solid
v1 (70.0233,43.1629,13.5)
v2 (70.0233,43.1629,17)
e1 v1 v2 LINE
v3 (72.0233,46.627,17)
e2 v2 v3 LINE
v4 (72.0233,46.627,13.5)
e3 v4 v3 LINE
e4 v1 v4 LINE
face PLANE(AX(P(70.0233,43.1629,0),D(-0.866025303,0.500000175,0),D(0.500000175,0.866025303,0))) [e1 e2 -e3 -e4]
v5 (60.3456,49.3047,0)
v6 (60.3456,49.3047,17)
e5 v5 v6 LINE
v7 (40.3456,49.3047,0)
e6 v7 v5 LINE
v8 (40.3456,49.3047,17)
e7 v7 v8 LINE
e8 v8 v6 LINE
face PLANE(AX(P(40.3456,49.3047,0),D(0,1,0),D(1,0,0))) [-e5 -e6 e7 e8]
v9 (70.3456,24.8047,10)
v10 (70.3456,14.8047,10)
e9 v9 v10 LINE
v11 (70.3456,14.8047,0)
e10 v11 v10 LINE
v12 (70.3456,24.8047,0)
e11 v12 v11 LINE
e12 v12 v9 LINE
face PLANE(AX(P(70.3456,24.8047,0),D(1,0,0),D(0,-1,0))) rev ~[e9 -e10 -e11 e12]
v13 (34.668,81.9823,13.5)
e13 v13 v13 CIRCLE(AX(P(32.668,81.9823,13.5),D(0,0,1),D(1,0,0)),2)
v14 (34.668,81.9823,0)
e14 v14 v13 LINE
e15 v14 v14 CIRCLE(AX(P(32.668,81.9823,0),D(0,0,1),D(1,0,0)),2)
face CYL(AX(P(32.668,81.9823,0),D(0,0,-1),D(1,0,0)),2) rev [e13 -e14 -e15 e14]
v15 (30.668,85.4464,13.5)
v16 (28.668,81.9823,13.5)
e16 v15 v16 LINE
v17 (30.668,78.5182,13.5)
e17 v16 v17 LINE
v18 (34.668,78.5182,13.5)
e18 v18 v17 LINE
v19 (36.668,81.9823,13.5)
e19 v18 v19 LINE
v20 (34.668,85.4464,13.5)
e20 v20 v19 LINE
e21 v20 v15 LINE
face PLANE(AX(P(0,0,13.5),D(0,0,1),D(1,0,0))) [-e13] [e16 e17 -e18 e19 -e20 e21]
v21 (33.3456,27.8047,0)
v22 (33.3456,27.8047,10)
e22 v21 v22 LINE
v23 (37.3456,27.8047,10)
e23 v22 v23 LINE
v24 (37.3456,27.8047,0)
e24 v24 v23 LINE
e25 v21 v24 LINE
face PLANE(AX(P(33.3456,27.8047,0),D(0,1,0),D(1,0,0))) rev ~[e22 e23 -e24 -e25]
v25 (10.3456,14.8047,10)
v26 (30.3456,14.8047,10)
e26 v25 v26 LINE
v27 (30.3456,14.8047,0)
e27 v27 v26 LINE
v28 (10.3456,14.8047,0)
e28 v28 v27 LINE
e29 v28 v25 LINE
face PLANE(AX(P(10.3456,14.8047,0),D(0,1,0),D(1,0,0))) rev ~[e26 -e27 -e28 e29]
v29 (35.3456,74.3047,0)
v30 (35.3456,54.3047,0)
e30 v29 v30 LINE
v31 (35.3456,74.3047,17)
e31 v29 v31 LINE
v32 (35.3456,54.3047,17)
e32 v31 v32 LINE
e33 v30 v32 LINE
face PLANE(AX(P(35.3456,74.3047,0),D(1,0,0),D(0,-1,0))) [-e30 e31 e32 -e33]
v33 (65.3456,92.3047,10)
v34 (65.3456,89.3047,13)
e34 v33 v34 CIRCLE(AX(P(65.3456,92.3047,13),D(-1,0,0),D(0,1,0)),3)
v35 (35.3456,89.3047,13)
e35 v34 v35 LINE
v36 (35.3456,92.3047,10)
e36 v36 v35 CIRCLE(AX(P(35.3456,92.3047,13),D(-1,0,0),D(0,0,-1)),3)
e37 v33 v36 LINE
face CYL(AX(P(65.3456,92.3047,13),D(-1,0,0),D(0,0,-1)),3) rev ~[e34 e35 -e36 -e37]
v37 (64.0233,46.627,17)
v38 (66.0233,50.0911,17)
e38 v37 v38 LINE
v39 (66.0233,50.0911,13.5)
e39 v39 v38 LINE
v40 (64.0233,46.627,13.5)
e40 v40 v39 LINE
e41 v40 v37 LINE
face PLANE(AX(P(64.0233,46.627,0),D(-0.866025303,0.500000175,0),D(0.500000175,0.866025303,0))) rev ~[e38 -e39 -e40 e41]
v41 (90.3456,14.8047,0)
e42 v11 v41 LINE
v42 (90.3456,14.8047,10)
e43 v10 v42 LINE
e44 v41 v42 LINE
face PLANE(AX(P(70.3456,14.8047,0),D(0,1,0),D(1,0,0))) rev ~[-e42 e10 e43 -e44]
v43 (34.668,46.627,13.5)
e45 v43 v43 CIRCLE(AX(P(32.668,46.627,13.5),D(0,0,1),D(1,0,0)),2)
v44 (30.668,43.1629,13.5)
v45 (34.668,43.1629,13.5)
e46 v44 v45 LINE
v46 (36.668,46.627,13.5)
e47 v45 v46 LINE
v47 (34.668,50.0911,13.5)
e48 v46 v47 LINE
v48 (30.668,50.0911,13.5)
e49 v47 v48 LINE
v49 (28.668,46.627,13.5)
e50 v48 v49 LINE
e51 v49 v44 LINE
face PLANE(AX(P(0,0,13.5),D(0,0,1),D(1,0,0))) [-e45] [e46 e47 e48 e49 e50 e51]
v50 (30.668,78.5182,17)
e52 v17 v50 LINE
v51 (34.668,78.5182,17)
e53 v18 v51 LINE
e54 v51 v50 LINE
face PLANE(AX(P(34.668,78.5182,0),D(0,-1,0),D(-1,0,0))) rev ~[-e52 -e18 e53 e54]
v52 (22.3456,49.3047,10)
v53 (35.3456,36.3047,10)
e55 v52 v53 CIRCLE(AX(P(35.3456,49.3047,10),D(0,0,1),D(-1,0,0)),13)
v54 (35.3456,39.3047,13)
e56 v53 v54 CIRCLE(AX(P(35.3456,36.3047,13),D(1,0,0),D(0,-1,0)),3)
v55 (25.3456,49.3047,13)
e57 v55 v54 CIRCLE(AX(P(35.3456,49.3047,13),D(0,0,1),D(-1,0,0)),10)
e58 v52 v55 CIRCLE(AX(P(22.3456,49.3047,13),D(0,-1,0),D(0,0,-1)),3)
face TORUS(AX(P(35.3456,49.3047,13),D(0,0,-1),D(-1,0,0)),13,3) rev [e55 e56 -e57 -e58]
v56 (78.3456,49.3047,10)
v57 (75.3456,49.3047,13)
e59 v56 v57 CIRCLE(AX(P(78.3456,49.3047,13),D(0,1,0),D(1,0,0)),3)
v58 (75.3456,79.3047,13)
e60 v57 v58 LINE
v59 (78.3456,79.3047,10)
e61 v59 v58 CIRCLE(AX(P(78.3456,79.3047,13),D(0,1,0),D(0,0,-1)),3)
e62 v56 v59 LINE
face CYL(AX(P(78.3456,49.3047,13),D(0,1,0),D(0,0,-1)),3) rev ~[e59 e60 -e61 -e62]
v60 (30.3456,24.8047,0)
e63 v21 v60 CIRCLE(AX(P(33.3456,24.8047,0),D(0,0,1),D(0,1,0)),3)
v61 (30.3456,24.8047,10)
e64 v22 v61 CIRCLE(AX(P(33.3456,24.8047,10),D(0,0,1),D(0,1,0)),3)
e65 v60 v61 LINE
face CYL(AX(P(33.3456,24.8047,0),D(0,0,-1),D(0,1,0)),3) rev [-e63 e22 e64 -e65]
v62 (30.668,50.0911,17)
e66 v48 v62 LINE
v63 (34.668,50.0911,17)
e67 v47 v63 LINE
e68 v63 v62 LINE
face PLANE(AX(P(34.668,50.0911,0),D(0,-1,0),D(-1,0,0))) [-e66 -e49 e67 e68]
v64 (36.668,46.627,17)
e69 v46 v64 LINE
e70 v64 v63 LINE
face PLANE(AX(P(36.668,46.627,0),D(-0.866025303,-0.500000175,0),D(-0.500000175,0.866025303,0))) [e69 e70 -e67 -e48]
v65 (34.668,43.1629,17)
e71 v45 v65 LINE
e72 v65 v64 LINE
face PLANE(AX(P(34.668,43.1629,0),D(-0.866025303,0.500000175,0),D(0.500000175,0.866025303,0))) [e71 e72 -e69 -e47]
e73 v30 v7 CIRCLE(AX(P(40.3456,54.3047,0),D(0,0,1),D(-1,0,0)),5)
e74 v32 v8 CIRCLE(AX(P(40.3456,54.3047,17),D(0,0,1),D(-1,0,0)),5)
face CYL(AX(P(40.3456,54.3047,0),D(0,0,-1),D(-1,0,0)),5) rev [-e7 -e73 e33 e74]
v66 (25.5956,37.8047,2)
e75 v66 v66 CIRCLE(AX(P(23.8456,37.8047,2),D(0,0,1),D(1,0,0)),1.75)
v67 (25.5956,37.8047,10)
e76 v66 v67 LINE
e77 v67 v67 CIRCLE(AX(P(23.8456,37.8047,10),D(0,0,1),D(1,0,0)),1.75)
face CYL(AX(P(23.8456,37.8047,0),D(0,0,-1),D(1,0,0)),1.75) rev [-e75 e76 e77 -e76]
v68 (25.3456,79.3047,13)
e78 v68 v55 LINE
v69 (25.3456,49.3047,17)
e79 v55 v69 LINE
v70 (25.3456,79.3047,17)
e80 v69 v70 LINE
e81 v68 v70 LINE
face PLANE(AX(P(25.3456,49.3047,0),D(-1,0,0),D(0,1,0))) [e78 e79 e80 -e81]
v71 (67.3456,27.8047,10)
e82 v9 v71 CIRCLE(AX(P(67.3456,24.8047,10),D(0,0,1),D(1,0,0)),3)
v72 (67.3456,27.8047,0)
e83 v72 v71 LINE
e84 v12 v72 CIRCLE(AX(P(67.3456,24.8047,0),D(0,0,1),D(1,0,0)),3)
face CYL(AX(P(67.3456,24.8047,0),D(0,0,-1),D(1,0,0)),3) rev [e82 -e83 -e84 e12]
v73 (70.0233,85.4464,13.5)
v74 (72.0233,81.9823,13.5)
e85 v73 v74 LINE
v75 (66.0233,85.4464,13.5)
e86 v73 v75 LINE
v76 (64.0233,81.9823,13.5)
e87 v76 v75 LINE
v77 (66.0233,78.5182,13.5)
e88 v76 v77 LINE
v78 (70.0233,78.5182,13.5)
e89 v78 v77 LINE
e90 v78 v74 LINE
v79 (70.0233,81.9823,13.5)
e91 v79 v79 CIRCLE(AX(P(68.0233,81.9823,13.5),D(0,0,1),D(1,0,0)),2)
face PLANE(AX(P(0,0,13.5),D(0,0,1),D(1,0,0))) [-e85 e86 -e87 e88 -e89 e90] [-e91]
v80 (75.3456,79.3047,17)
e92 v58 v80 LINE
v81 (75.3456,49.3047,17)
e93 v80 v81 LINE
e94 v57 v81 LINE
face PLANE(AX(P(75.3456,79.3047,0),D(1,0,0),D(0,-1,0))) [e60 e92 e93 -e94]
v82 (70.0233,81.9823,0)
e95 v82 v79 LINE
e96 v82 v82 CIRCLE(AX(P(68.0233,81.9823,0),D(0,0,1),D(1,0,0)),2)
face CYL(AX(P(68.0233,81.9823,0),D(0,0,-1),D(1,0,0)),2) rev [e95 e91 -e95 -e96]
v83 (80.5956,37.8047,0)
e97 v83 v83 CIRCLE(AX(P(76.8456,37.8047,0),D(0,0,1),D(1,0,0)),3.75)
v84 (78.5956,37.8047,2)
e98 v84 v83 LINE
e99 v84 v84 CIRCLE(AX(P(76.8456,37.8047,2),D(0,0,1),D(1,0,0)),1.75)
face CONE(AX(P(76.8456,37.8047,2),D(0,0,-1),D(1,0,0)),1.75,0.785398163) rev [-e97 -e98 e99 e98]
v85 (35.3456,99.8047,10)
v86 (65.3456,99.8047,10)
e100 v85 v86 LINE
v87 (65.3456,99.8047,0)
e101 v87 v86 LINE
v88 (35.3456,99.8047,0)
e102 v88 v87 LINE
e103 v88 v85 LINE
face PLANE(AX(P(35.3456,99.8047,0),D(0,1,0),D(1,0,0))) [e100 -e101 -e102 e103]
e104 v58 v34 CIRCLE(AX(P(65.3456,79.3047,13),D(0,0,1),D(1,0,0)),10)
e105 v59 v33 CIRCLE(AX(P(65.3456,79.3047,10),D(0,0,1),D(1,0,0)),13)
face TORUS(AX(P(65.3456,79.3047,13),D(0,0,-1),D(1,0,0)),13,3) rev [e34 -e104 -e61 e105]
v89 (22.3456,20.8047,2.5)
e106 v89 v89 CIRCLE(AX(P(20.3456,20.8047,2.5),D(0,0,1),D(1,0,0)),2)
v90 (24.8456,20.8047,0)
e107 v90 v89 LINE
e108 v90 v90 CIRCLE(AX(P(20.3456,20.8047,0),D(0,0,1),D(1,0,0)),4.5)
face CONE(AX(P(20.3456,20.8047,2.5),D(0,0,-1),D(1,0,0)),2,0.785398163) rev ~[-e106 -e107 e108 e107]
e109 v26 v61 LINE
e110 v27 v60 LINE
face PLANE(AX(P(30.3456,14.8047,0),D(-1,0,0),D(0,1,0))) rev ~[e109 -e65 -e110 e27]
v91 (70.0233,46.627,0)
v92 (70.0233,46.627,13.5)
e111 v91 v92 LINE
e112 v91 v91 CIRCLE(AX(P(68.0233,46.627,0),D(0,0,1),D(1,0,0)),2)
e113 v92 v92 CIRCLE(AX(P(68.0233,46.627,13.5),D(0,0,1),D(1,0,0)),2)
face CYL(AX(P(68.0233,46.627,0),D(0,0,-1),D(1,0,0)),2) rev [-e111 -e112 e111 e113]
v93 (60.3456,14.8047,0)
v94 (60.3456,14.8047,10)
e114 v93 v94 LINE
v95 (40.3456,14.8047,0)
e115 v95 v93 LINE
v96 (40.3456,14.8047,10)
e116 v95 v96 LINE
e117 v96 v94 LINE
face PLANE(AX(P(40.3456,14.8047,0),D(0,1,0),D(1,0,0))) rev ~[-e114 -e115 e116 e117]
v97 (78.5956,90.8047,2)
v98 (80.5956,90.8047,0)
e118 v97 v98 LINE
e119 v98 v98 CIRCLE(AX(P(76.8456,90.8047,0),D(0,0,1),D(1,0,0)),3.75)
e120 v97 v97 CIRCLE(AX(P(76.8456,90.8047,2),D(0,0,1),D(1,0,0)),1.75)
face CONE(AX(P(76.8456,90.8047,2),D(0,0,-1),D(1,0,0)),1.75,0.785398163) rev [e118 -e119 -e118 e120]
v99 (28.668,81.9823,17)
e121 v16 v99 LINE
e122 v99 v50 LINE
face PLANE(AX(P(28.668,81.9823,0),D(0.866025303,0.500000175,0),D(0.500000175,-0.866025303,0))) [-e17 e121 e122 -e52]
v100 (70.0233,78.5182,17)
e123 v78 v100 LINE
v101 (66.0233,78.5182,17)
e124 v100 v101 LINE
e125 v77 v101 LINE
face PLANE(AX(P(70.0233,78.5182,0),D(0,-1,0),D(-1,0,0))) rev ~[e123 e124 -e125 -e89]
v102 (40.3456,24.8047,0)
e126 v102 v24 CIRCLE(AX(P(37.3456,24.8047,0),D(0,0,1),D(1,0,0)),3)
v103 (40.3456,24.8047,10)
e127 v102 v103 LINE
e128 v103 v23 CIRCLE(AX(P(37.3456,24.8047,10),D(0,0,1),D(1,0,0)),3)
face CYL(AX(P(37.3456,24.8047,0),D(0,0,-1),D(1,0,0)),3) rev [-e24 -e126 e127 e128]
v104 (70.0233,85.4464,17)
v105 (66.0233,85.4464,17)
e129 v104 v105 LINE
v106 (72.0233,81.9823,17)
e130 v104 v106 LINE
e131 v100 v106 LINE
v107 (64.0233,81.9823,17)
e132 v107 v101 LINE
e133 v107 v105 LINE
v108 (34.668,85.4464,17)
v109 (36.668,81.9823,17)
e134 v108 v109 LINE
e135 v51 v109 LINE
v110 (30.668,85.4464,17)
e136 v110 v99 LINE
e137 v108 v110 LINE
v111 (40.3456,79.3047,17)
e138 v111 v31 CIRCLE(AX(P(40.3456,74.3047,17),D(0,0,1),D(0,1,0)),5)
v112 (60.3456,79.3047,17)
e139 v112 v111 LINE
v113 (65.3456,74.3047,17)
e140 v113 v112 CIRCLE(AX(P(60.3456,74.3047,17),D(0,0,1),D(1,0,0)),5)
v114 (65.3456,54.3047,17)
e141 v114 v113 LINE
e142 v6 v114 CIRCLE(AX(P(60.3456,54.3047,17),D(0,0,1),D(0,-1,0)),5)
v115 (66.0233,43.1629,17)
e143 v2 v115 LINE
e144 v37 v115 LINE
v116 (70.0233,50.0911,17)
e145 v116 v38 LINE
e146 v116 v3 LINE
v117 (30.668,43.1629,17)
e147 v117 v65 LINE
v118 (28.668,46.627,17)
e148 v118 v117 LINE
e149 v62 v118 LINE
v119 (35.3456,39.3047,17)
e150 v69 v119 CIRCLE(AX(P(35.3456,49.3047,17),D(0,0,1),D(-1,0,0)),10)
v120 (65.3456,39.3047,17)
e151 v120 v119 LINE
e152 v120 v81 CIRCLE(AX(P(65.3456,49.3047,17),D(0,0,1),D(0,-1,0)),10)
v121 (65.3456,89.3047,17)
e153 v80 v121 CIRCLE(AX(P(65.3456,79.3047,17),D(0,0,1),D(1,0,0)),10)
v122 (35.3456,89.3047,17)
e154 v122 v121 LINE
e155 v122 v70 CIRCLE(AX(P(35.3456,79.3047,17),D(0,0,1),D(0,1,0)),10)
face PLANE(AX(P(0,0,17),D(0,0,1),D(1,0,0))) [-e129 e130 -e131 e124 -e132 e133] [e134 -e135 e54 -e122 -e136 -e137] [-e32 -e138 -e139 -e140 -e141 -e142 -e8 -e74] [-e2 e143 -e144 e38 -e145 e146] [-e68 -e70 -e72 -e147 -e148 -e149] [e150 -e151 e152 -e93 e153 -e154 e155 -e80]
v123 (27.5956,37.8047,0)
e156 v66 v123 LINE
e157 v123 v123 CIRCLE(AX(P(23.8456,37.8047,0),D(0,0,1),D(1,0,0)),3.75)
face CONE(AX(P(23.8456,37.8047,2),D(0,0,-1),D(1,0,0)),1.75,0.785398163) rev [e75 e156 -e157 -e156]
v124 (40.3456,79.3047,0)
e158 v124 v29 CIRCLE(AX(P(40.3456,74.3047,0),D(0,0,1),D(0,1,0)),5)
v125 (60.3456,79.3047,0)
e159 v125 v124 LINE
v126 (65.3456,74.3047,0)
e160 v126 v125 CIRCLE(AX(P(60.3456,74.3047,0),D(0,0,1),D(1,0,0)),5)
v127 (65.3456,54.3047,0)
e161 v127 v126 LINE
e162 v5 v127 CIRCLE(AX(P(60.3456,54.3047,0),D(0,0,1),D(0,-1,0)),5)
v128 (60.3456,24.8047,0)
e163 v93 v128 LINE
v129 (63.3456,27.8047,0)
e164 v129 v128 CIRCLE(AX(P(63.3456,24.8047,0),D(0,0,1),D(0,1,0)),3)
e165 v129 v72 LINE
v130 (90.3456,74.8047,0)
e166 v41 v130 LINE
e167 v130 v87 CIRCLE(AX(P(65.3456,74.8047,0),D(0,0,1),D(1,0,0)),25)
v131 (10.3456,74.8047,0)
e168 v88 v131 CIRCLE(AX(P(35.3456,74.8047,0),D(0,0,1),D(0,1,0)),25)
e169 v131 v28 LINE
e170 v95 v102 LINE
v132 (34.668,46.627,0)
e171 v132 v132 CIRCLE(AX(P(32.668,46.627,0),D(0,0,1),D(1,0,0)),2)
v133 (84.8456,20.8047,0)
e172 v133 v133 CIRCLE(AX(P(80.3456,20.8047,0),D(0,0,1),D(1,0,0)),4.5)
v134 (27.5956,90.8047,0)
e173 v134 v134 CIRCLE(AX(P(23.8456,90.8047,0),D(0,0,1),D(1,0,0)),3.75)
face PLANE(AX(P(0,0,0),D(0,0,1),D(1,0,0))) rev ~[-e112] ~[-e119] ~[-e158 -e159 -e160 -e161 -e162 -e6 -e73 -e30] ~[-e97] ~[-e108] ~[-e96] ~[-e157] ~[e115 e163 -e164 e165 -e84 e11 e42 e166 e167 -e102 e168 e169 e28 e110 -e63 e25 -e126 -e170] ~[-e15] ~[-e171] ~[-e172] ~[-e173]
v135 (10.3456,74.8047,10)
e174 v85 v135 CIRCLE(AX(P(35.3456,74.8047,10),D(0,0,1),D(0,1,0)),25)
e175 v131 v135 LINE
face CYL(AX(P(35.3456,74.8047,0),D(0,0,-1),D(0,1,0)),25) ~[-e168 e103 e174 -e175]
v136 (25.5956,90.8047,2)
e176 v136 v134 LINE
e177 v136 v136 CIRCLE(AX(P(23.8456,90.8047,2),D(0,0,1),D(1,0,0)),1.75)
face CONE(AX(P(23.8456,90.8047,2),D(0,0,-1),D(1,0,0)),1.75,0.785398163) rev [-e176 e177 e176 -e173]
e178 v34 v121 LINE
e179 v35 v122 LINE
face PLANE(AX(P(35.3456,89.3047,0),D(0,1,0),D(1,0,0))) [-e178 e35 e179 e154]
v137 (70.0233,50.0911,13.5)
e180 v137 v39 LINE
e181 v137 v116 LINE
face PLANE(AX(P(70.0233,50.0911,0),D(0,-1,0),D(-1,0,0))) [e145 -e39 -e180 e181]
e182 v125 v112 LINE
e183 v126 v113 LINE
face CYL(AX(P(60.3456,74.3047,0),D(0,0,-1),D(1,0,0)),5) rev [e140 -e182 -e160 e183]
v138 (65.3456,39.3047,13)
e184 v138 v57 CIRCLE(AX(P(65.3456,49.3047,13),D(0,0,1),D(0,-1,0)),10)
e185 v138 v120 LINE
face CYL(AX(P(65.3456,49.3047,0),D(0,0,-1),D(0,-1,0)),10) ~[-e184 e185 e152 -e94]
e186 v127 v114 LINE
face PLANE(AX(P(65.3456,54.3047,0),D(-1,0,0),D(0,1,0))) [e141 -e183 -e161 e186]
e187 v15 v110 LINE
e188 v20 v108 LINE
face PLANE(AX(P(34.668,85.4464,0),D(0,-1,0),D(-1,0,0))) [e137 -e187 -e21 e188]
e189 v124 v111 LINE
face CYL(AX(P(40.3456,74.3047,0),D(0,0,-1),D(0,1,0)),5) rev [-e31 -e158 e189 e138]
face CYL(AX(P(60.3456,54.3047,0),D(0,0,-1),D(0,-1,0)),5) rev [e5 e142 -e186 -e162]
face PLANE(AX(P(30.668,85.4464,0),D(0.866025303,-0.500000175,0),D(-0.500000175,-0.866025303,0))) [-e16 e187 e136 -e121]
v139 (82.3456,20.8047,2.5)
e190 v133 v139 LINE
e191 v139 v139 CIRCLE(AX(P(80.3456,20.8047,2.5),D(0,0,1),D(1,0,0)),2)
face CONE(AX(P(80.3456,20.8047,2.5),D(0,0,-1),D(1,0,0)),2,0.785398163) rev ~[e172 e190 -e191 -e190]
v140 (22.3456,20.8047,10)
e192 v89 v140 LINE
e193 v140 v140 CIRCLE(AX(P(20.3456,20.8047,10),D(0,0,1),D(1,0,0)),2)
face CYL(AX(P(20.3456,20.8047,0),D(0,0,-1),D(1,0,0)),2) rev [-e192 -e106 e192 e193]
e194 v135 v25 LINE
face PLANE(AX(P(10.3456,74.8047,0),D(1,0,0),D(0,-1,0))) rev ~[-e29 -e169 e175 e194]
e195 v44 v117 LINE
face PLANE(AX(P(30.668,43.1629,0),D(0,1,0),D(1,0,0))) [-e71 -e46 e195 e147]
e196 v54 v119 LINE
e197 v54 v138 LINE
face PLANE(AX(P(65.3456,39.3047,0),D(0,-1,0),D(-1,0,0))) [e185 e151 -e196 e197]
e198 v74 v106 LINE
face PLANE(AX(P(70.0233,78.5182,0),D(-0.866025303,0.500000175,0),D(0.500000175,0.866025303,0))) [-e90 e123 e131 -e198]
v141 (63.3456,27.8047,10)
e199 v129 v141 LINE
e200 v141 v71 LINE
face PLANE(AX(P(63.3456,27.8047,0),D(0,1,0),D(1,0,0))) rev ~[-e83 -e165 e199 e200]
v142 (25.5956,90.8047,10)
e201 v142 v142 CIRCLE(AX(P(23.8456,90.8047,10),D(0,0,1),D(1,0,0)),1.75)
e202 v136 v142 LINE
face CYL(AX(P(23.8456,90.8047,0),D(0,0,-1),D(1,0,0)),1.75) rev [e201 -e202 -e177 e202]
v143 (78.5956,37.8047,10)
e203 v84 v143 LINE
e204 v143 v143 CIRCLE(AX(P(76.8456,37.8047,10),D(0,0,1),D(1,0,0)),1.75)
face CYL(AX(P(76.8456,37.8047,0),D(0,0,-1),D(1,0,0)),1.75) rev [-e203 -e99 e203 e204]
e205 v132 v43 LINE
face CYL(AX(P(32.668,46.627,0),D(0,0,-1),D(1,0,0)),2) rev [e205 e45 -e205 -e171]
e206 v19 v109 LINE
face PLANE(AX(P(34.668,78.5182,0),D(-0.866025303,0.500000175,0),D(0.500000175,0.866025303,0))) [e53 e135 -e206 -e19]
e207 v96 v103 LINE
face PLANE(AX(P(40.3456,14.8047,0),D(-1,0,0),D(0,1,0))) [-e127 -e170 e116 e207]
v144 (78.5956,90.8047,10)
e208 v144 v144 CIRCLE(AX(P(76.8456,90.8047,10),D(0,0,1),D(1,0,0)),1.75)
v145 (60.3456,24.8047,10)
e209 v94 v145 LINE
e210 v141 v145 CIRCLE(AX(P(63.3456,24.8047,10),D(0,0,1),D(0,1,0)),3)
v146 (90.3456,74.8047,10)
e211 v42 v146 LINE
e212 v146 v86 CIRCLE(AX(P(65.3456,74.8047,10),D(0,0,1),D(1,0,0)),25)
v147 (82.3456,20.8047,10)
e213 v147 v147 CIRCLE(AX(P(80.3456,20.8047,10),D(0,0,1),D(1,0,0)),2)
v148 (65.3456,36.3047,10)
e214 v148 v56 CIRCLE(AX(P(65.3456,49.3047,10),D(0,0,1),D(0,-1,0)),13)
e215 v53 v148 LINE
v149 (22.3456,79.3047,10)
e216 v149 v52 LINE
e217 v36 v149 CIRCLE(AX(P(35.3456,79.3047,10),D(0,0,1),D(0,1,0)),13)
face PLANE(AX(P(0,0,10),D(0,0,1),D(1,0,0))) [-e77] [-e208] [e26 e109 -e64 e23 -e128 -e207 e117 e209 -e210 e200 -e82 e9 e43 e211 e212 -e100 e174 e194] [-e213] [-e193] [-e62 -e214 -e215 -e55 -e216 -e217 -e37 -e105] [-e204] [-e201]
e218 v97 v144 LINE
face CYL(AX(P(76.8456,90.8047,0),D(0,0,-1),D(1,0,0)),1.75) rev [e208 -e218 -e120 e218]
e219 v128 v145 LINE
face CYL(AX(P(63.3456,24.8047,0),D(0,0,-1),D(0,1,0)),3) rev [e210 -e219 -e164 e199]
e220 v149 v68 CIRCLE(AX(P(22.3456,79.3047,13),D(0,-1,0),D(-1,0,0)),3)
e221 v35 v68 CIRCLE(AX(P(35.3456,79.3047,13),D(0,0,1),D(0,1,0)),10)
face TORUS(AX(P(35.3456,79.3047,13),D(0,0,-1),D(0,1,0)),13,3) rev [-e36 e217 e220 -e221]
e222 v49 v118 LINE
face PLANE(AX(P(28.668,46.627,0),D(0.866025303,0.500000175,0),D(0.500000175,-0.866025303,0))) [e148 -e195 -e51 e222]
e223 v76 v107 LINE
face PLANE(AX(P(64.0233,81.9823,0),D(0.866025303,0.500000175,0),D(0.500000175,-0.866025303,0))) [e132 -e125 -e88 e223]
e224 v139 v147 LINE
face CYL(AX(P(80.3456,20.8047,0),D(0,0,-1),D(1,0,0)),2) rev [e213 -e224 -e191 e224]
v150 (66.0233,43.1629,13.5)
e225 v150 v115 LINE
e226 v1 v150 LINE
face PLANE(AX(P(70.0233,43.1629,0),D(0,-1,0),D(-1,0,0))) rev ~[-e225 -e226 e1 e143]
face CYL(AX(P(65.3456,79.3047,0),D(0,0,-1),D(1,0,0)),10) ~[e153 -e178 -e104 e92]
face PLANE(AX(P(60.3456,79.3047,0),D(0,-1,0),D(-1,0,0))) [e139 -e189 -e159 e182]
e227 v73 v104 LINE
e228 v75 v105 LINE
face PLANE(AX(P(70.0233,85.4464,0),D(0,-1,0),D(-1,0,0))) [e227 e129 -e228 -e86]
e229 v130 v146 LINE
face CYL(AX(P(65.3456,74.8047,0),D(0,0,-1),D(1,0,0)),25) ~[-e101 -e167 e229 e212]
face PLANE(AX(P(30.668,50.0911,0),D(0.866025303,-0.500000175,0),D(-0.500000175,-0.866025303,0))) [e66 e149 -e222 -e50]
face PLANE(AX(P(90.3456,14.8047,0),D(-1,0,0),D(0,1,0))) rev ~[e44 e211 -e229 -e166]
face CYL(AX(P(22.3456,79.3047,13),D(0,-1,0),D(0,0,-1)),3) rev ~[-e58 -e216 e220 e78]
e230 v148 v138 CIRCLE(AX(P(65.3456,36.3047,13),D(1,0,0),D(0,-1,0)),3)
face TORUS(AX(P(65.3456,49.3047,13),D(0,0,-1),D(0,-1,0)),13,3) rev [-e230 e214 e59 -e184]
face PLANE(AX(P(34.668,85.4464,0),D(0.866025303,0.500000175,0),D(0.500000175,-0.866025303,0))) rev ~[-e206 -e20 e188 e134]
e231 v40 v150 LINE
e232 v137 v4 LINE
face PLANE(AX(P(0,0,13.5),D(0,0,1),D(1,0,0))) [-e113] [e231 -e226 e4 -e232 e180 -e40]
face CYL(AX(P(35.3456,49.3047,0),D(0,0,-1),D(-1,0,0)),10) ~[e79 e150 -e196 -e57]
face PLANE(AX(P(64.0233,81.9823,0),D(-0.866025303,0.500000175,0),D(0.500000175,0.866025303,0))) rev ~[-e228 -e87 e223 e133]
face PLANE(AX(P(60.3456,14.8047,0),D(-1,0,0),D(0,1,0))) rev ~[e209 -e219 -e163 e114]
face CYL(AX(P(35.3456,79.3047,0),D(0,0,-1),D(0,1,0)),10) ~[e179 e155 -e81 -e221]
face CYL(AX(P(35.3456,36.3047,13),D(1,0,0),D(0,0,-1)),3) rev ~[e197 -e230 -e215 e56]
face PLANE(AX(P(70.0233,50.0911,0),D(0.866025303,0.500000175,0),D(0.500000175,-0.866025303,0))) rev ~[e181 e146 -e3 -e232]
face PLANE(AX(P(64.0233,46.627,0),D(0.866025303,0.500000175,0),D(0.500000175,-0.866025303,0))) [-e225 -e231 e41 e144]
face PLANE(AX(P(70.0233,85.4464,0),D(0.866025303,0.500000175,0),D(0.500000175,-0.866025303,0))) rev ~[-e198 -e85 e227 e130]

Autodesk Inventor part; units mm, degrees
ref_plane "YZ Plane" through (0, 0, 0) normal (1, 0, 0) x (0, 1, 0)
ref_plane "XZ Plane" through (0, 0, 0) normal (0, 1, 0) x (-1, 0, 0)
ref_plane "XY Plane" through (0, 0, 0) normal (0, 0, 1) x (1, 0, 0)
sketch "Sketch1" plane through (0, 0, 0) normal (0, 0, 1) x (1, 0, 0)
  line L0 (10.3456, 14.8047) -> (30.3456, 14.8047)
  line L1 (40.3456, 14.8047) -> (60.3456, 14.8047)
  line L2 (70.3456, 14.8047) -> (90.3456, 14.8047)
  circle A0 centre (20.3456, 20.8047) radius 2
  circle A1 centre (80.3456, 20.8047) radius 2
  circle A2 centre (23.8456, 90.8047) radius 1.75
  circle A3 centre (76.8456, 90.8047) radius 1.75
  circle A4 centre (76.8456, 37.8047) radius 1.75
  circle A5 centre (23.8456, 37.8047) radius 1.75
  arc A6 (75.3456, 79.3047) -> (65.3456, 89.3047) centre (65.3456, 79.3047) ccw
  arc A7 (35.3456, 89.3047) -> (25.3456, 79.3047) centre (35.3456, 79.3047) ccw
  arc A8 (65.3456, 39.3047) -> (75.3456, 49.3047) centre (65.3456, 49.3047) ccw
  arc A9 (25.3456, 49.3047) -> (35.3456, 39.3047) centre (35.3456, 49.3047) ccw
  arc A10 (40.3456, 79.3047) -> (35.3456, 74.3047) centre (40.3456, 74.3047) ccw
  arc A11 (65.3456, 74.3047) -> (60.3456, 79.3047) centre (60.3456, 74.3047) ccw
  arc A12 (35.3456, 54.3047) -> (40.3456, 49.3047) centre (40.3456, 54.3047) ccw
  arc A13 (60.3456, 49.3047) -> (65.3456, 54.3047) centre (60.3456, 54.3047) ccw
  arc A14 (33.3456, 27.8047) -> (30.3456, 24.8047) centre (33.3456, 24.8047) ccw
  arc A15 (40.3456, 24.8047) -> (37.3456, 27.8047) centre (37.3456, 24.8047) ccw
  arc A16 (63.3456, 27.8047) -> (60.3456, 24.8047) centre (63.3456, 24.8047) ccw
  arc A17 (70.3456, 24.8047) -> (67.3456, 27.8047) centre (67.3456, 24.8047) ccw
  line L3 (34.668, 78.5182) -> (36.668, 81.9823)
  line L4 (34.668, 85.4464) -> (30.668, 85.4464)
  line L5 (28.668, 81.9823) -> (30.668, 78.5182)
  line L6 (70.0233, 78.5182) -> (72.0233, 81.9823)
  line L7 (70.0233, 85.4464) -> (66.0233, 85.4464)
  line L8 (64.0233, 81.9823) -> (66.0233, 78.5182)
  line L9 (70.0233, 43.1629) -> (72.0233, 46.627)
  line L10 (70.0233, 50.0911) -> (66.0233, 50.0911)
  line L11 (64.0233, 46.627) -> (66.0233, 43.1629)
  line L12 (34.668, 43.1629) -> (36.668, 46.627)
  line L13 (34.668, 50.0911) -> (30.668, 50.0911)
  line L14 (28.668, 46.627) -> (30.668, 43.1629)
  arc A18 (35.3456, 99.8047) -> (10.3456, 74.8047) centre (35.3456, 74.8047) ccw
  arc A19 (90.3456, 74.8047) -> (65.3456, 99.8047) centre (65.3456, 74.8047) ccw
  line L15 (10.3456, 74.8047) -> (10.3456, 14.8047)
  line L16 (30.3456, 14.8047) -> (30.3456, 24.8047)
  line L17 (33.3456, 27.8047) -> (37.3456, 27.8047)
  line L18 (40.3456, 14.8047) -> (40.3456, 24.8047)
  line L19 (60.3456, 14.8047) -> (60.3456, 24.8047)
  line L20 (63.3456, 27.8047) -> (67.3456, 27.8047)
  line L21 (70.3456, 24.8047) -> (70.3456, 14.8047)
  line L22 (90.3456, 14.8047) -> (90.3456, 74.8047)
  line L23 (35.3456, 99.8047) -> (65.3456, 99.8047)
  line L24 (35.3456, 89.3047) -> (65.3456, 89.3047)
  line L25 (75.3456, 79.3047) -> (75.3456, 49.3047)
  line L26 (65.3456, 39.3047) -> (35.3456, 39.3047)
  line L27 (25.3456, 49.3047) -> (25.3456, 79.3047)
  line L28 (30.668, 85.4464) -> (28.668, 81.9823)
  line L29 (34.668, 85.4464) -> (36.668, 81.9823)
  line L30 (34.668, 78.5182) -> (30.668, 78.5182)
  line L31 (64.0233, 81.9823) -> (66.0233, 85.4464)
  line L32 (70.0233, 85.4464) -> (72.0233, 81.9823)
  line L33 (70.0233, 78.5182) -> (66.0233, 78.5182)
  line L34 (30.668, 50.0911) -> (28.668, 46.627)
  line L35 (30.668, 43.1629) -> (34.668, 43.1629)
  line L36 (36.668, 46.627) -> (34.668, 50.0911)
  line L37 (64.0233, 46.627) -> (66.0233, 50.0911)
  line L38 (70.0233, 50.0911) -> (72.0233, 46.627)
  line L39 (70.0233, 43.1629) -> (66.0233, 43.1629)
  circle A20 centre (32.668, 81.9823) radius 2
  circle A21 centre (68.0233, 81.9823) radius 2
  circle A22 centre (68.0233, 46.627) radius 2
  circle A23 centre (32.668, 46.627) radius 2
  line L40 (35.3456, 74.3047) -> (35.3456, 54.3047)
  line L41 (40.3456, 49.3047) -> (60.3456, 49.3047)
  line L42 (65.3456, 54.3047) -> (65.3456, 74.3047)
  line L43 (60.3456, 79.3047) -> (40.3456, 79.3047)
  point P0 (0, 0)
  dimension "d0" = 4
  dimension "d1" = 4
  dimension "d2" = 4
  dimension "d3" = 4
extrude "Extrusion1" add sketch "Sketch1" along normal blind 10 contours L15 A18 L23 A19 L22 L2 L21 A17 L20 A16 L19 L1 L18 A15 L17 A14 L16 L0
extrude "Extrusion3" add sketch "Sketch1" along normal blind 17 contours L25 A8 L26 A9 L27 A7 L24 A6
extrude "Extrusion4" add sketch "Sketch1" along normal blind 13.5 contours L30 L5 L28 L4 L29 L3 | L33 L8 L31 L7 L32 L6 | L39 L11 L37 L10 L38 L9 | L35 L14 L34 L13 L36 L12
fillet "Fillet1" radius 3 8 edges at (72.4167, 42.2336, 10) (50.3456, 39.3047, 10) (28.2746, 42.2336, 10) (25.3456, 64.3047, 10) (28.2746, 86.3757, 10) (50.3456, 89.3047, 10) (72.4167, 86.3757, 10) (75.3456, 64.3047, 10)
chamfer "Chamfer1" distance 2 angle 45 4 edges at (75.0956, 90.8047, 0) (22.0956, 90.8047, 0) (75.0956, 37.8047, 0) (22.0956, 37.8047, 0)
chamfer "Chamfer2" distance 2.5 angle 45 2 edges at (78.3456, 20.8047, 0) (18.3456, 20.8047, 0)
properties part number "mbot_rear_UTM-30LX_mount"
